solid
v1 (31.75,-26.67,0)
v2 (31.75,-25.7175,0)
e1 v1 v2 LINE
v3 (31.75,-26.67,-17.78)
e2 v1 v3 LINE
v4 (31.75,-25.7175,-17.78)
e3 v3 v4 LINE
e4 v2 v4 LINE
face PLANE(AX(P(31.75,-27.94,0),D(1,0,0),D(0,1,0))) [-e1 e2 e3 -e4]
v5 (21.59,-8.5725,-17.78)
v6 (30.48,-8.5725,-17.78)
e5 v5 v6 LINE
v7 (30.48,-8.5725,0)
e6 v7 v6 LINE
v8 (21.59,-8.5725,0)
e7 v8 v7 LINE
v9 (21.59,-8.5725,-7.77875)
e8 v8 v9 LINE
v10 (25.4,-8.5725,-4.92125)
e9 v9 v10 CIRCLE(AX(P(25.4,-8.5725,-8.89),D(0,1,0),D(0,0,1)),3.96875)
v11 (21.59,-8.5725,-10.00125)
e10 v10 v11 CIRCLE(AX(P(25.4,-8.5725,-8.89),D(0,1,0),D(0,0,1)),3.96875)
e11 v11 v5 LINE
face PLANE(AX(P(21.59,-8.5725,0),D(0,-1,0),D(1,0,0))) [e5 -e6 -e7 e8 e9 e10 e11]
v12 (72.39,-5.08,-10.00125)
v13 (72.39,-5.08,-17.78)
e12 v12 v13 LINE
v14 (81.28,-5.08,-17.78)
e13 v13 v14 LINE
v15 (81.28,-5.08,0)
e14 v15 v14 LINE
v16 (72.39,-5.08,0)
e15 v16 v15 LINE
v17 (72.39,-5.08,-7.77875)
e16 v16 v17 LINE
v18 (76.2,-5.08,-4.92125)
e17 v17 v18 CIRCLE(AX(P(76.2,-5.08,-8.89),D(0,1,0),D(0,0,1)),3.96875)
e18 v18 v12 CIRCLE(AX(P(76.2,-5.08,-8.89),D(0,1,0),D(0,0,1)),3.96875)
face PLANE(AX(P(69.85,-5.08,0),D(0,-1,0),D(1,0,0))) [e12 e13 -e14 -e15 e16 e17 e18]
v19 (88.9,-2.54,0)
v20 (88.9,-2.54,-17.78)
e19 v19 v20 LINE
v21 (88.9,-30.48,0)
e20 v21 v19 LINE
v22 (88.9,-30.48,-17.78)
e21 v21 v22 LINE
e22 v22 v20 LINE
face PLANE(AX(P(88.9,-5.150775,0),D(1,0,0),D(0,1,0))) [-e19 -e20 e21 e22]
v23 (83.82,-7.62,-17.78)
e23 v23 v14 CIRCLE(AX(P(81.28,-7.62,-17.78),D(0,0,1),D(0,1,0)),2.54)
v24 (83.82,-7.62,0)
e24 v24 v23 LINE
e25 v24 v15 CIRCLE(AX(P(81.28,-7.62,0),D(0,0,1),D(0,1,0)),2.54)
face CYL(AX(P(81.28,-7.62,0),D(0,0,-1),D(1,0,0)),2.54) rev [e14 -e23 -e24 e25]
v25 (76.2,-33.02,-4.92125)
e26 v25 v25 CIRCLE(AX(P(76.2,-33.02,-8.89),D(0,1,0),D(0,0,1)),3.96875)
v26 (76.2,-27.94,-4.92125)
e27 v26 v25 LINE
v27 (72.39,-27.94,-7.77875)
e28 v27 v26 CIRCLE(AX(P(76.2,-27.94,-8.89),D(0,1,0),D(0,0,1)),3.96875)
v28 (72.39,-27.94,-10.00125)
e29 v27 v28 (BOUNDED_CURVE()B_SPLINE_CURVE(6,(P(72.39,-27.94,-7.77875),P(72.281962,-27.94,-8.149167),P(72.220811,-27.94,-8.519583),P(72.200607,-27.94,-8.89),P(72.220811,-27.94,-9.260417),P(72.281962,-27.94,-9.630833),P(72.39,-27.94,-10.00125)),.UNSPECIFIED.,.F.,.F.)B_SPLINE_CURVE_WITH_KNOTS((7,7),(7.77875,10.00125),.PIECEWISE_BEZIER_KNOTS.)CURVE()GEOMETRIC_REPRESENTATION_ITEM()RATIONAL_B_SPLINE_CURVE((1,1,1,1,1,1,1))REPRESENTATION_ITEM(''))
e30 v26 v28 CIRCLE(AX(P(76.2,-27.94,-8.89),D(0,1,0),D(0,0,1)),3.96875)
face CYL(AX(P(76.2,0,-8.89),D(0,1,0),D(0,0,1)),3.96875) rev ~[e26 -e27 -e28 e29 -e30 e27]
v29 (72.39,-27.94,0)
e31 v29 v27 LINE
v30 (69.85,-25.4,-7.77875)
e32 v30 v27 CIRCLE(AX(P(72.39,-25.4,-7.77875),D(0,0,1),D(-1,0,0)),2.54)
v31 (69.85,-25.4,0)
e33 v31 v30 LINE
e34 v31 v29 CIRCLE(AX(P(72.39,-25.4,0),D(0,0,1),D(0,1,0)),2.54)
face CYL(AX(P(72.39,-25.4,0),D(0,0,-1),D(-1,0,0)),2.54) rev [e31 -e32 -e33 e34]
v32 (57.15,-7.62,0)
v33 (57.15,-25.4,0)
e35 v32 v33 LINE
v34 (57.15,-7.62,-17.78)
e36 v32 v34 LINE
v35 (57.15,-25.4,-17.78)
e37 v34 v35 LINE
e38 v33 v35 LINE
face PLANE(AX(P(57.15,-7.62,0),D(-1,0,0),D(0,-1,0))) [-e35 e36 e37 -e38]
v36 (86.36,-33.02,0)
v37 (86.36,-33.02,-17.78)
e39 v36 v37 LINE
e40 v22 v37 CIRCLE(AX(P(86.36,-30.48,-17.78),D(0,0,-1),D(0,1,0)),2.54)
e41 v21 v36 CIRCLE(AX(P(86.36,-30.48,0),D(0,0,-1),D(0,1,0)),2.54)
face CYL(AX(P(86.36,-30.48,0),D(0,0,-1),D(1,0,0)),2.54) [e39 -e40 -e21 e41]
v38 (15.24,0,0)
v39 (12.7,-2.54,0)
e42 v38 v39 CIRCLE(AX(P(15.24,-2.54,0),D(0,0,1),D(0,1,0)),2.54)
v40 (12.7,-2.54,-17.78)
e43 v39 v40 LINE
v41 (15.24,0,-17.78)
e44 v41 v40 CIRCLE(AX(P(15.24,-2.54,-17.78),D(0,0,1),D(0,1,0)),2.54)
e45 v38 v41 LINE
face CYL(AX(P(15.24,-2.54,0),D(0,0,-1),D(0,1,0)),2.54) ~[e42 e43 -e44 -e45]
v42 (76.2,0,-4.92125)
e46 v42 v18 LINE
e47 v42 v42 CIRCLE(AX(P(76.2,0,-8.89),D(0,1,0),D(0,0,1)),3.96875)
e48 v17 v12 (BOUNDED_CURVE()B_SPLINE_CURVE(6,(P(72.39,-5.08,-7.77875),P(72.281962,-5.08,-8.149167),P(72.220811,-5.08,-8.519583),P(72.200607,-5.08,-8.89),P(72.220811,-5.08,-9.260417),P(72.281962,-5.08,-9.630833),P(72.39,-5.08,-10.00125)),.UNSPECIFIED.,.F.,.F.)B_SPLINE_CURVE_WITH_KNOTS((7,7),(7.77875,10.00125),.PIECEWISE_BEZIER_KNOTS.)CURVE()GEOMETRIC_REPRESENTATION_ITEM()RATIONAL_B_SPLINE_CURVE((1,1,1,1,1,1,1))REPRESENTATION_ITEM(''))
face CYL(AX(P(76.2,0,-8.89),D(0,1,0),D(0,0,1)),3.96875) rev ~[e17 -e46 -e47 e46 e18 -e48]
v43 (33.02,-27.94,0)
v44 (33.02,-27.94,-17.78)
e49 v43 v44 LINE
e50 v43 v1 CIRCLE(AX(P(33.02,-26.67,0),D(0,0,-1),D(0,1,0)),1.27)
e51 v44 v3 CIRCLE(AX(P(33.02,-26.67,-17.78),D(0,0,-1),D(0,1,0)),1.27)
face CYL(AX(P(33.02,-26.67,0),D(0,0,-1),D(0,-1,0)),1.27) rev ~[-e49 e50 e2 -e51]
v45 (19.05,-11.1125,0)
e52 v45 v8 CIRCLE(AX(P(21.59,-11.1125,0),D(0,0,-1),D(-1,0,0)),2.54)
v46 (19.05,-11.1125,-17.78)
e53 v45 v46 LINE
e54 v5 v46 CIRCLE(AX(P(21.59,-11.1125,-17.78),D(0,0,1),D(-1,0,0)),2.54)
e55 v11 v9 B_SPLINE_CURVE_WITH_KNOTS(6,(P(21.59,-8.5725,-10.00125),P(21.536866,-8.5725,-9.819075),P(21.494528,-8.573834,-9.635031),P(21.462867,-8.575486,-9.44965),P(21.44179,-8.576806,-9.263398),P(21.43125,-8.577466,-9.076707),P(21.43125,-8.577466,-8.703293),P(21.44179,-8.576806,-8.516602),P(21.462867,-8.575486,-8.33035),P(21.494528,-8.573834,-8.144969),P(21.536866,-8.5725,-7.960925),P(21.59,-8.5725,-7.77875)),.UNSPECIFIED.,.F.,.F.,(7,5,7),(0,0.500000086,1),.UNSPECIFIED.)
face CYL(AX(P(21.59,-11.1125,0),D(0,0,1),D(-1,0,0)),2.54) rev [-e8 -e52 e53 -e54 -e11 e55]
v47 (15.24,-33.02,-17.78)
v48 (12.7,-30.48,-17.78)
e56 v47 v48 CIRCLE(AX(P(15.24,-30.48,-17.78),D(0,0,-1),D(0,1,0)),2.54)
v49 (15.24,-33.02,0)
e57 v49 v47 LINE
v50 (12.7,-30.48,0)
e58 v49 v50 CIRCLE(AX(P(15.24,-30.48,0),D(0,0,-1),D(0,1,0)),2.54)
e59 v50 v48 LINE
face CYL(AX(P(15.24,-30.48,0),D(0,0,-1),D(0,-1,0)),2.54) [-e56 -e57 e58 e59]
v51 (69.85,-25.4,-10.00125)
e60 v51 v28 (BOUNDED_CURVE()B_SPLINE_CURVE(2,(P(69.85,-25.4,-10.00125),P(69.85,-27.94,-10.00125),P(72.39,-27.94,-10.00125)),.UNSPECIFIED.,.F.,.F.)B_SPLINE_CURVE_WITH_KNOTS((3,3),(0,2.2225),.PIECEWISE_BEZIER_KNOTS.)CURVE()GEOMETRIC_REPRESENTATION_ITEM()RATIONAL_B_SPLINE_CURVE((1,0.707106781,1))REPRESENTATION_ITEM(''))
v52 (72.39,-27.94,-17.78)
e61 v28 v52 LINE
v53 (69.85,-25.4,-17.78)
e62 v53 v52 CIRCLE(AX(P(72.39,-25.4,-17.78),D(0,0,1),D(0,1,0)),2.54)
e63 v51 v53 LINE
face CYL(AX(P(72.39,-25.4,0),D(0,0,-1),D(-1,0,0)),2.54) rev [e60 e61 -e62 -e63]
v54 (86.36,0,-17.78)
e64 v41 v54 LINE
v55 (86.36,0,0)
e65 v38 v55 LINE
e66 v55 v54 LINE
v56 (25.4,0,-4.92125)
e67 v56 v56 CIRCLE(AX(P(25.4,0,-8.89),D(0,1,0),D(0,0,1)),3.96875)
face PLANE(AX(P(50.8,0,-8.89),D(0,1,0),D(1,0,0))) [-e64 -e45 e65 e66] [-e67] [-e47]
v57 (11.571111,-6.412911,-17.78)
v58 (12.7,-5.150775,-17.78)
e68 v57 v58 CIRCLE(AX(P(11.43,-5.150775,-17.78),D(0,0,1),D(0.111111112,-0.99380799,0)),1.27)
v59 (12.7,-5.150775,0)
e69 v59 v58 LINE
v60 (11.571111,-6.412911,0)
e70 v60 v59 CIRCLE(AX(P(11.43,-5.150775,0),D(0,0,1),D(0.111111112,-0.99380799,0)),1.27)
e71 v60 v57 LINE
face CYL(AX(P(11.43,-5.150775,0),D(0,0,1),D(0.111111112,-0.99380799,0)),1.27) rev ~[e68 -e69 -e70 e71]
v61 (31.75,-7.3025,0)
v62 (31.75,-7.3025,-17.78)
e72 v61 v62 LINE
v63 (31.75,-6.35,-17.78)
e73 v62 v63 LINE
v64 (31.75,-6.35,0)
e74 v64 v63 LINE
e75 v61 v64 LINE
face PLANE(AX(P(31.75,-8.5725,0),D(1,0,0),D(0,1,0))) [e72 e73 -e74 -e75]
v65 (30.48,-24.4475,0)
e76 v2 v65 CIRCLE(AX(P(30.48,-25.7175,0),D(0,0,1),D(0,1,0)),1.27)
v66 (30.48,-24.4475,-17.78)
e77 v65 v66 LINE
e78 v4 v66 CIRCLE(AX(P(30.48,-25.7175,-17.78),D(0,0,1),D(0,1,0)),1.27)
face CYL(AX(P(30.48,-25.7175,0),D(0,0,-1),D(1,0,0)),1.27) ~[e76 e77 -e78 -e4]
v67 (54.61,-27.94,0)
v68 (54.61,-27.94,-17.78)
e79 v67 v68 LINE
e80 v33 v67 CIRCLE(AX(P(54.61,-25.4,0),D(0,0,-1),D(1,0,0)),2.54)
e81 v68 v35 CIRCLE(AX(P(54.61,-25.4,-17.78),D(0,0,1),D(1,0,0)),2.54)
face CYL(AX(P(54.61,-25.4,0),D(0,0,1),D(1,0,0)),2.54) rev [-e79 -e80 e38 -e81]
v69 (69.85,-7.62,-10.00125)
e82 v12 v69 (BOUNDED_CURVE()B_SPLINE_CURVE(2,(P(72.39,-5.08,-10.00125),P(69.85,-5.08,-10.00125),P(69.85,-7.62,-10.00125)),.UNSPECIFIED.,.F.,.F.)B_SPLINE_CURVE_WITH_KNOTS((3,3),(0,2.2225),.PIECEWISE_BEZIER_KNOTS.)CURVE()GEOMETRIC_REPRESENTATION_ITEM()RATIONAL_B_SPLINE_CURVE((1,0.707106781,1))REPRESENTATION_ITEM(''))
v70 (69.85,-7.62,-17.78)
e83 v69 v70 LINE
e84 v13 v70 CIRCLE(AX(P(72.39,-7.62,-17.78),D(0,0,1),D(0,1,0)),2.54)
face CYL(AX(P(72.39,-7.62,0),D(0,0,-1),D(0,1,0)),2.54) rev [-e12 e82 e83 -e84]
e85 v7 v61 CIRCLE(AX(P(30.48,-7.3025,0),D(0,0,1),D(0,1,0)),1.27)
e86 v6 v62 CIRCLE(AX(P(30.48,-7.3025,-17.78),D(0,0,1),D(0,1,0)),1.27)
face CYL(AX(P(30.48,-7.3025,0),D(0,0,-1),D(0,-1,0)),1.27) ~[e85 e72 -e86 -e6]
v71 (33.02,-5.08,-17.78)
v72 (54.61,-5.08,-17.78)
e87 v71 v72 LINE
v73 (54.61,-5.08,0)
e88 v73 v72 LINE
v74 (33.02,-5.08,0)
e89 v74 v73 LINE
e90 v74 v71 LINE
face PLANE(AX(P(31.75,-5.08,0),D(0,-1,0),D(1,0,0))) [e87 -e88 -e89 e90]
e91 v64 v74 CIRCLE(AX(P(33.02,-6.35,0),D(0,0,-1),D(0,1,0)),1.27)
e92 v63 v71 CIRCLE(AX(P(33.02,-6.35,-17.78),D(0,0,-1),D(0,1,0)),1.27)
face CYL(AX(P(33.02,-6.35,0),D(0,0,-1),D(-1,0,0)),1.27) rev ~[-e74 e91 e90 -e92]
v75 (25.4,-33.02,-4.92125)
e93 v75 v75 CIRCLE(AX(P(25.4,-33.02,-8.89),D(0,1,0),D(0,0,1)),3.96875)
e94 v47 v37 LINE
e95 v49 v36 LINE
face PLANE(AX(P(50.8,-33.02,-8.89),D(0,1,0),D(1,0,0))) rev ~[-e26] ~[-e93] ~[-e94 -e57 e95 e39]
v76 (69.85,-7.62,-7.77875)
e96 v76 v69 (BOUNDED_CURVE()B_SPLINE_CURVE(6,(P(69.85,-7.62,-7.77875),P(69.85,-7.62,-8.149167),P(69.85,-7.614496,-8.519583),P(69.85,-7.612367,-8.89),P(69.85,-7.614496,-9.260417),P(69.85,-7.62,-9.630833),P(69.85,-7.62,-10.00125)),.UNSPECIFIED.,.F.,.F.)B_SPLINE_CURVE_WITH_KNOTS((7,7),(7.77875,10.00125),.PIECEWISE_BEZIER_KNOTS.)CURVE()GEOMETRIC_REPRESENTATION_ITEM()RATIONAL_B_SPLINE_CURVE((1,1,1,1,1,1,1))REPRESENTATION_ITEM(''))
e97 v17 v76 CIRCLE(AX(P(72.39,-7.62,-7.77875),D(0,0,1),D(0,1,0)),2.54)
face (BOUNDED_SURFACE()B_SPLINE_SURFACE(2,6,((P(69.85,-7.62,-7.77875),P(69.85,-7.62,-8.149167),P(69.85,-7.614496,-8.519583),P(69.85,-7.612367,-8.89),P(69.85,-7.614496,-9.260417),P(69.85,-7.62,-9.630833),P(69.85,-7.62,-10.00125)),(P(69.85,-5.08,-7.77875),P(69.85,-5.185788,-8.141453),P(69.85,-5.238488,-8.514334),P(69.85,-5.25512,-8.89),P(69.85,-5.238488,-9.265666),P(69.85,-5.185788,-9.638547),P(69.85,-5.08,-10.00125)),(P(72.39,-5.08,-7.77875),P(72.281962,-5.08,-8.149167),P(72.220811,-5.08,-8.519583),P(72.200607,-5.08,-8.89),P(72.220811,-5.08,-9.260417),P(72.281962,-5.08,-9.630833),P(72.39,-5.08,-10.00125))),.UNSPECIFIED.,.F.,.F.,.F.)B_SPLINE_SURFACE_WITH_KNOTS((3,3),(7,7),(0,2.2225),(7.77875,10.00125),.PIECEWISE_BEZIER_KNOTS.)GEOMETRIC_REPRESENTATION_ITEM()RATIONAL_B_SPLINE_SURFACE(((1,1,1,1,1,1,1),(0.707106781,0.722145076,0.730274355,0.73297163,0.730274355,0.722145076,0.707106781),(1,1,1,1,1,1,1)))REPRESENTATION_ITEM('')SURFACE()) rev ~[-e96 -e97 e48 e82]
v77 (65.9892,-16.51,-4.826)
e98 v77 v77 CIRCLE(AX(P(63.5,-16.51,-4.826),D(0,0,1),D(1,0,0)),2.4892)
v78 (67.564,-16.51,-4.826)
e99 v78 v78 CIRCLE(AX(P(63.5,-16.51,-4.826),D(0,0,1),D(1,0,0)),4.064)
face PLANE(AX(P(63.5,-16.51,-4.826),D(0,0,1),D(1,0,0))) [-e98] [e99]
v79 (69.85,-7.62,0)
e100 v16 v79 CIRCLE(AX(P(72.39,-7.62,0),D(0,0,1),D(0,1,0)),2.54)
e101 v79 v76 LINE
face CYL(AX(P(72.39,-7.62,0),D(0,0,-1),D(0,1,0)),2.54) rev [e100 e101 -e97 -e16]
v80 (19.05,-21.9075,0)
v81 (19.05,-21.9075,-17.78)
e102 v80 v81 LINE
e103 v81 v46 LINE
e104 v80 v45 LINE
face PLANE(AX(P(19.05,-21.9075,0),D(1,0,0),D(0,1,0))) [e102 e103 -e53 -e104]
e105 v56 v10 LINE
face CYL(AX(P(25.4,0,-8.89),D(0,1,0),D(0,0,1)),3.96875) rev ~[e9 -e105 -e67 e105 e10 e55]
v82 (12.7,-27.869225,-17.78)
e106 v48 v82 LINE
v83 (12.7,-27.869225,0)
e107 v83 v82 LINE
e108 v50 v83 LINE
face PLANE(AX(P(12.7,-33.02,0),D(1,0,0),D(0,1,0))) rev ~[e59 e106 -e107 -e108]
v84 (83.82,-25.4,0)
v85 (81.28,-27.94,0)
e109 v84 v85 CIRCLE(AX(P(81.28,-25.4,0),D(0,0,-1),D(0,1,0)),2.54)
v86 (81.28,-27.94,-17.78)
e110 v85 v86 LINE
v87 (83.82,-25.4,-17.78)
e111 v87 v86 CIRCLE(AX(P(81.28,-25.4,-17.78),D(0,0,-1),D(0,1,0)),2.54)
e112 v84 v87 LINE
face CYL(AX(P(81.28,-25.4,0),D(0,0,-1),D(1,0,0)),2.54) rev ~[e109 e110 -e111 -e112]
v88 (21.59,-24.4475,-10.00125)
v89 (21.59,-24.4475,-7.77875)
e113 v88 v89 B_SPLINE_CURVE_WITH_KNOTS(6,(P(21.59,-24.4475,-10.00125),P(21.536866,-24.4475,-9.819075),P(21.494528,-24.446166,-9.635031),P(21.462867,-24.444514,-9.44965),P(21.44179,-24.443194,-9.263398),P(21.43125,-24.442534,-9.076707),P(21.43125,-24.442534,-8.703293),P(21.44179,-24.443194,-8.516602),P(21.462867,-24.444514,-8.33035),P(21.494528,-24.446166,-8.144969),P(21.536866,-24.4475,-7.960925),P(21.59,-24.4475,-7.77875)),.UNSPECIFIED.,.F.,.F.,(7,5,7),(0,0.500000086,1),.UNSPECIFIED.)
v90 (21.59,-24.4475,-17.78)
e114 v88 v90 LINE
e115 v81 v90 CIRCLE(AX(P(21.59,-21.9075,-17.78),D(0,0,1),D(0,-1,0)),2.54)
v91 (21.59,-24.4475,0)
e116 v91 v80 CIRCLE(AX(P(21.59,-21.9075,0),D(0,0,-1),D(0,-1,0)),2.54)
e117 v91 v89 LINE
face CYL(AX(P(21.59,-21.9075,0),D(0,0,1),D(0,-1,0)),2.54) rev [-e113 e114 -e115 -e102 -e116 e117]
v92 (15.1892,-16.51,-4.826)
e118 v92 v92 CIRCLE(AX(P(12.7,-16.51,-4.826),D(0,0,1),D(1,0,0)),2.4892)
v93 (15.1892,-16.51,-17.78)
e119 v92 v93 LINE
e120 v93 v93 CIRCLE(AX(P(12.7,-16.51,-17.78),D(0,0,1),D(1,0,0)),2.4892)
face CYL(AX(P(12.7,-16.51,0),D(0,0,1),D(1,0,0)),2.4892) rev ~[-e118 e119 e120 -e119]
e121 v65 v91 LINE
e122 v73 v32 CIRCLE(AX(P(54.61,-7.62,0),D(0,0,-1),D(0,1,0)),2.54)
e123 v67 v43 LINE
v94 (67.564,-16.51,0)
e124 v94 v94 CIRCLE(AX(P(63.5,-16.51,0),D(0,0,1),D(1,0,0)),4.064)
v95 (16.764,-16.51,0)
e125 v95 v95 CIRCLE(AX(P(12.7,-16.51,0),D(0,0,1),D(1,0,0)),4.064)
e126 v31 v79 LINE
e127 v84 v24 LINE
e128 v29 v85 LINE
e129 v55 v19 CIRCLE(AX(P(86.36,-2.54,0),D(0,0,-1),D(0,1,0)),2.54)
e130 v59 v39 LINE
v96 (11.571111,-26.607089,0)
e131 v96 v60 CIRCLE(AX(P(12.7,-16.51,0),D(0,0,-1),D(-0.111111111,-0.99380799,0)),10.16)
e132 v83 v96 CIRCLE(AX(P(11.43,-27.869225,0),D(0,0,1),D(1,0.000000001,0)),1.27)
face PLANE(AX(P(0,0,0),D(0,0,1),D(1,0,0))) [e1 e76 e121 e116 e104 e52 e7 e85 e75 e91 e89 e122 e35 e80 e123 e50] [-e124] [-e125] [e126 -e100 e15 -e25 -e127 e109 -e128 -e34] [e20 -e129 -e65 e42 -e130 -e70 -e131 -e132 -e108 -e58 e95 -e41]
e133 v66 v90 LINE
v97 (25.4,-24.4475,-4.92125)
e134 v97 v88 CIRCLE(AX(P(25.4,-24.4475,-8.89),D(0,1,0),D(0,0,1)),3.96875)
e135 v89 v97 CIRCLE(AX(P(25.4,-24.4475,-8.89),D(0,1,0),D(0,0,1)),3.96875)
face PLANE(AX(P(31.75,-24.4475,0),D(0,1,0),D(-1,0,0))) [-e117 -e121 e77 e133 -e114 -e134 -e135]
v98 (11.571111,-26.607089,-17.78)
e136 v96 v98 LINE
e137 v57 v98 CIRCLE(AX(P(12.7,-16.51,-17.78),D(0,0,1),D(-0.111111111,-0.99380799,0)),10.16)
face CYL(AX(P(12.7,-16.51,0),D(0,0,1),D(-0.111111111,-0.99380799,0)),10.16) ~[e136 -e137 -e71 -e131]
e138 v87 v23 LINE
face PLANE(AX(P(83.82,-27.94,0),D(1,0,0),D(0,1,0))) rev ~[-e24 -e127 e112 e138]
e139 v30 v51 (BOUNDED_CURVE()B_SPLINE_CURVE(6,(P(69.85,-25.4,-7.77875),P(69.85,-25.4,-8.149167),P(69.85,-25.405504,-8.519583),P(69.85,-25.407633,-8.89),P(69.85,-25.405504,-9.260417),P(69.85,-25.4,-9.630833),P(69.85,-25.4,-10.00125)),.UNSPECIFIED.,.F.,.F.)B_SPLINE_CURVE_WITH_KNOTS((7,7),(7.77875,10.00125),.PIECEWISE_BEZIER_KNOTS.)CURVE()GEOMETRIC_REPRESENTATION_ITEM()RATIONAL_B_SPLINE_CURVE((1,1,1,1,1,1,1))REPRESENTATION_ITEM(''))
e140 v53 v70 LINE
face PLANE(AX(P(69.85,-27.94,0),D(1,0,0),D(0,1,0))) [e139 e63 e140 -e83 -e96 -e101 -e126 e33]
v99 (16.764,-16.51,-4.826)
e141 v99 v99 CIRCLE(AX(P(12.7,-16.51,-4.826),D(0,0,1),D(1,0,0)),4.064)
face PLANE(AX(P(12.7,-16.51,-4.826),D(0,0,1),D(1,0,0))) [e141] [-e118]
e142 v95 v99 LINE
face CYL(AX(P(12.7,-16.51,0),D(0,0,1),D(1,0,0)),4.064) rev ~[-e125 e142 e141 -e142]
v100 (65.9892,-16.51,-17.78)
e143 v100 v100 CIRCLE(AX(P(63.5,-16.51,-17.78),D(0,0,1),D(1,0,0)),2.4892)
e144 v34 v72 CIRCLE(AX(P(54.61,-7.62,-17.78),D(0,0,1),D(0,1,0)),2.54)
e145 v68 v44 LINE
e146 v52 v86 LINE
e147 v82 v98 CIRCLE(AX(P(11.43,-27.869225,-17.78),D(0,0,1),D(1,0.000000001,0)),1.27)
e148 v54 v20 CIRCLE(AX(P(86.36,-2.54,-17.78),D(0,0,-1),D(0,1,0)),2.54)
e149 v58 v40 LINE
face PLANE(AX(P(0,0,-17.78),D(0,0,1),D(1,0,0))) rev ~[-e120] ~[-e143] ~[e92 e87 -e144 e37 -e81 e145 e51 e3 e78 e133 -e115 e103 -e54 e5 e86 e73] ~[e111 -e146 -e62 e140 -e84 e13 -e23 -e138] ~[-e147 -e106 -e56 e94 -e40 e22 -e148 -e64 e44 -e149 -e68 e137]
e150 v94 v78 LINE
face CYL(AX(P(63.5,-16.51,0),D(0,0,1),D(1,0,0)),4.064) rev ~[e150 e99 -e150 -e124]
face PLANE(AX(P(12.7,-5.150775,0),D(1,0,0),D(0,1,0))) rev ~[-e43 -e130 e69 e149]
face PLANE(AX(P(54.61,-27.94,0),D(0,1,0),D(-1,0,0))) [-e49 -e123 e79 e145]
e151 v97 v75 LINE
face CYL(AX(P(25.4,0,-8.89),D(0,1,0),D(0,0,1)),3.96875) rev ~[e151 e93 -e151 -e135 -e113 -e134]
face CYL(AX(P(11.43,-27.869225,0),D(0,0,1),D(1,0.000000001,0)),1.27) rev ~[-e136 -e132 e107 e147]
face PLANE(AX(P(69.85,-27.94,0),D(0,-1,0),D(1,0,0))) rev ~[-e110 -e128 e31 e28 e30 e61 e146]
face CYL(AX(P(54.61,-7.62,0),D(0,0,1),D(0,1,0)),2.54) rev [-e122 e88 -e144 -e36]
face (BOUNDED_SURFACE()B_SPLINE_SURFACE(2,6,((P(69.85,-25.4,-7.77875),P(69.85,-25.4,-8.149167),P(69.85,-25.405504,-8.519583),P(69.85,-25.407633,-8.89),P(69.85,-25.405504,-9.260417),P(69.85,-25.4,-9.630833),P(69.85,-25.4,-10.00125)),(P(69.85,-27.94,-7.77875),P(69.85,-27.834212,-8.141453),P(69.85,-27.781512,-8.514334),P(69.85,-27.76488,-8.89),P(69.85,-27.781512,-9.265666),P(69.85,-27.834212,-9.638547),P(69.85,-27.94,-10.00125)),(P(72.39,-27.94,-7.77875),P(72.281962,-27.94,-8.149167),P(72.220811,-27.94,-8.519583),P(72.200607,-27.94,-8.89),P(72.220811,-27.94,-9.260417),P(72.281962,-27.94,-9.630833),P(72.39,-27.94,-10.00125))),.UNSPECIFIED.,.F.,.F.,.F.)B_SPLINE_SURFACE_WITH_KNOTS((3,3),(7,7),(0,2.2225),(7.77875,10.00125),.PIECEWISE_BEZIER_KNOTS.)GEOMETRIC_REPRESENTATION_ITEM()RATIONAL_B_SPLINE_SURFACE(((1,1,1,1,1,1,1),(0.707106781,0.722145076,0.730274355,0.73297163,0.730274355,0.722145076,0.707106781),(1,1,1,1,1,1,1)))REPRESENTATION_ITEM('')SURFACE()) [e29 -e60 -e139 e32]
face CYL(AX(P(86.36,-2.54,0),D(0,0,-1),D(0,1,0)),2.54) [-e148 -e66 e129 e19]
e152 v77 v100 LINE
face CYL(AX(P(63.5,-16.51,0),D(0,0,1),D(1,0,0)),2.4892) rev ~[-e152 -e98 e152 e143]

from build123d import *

# Parameters (mm, degrees)
SKETCH1_W           = 101.6
SKETCH1_H           = 17.78
SKETCH1_R           = 3.96875
BOSS_EXTRUDE1_DEPTH = 33.02
SKETCH2_R           = 2.4892
CUT_EXTRUDE1_DEPTH  = 17.78
SKETCH3_R           = 4.064
CUT_EXTRUDE2_DEPTH  = 4.826
CUT_EXTRUDE3_DEPTH  = 109.300548475
FILLET1_R           = 2.54
SKETCH6_W           = 13.97
SKETCH6_H           = 22.86
SKETCH6_W_2         = 10.94852006
SKETCH6_H_2         = 22.718450652
CUT_EXTRUDE4_DEPTH  = 106.921350067
FILLET2_R           = 2.54
FILLET3_R           = 1.27


with BuildPart() as part:
    # Sketch1 → Boss-Extrude1 (new body)
    with BuildSketch(Plane(origin=(0, 0, 0), x_dir=(1, 0, 0), z_dir=(0, 1, 0))):
        with Locations((50.8, 8.89)):
            Rectangle(SKETCH1_W, SKETCH1_H)
        with Locations(Location((76.2, 8.89, 0), (0, 0, 270))):
            Circle(SKETCH1_R, mode=Mode.SUBTRACT)
        with Locations(Location((25.4, 8.89, 0), (0, 0, 270))):
            Circle(SKETCH1_R, mode=Mode.SUBTRACT)
    extrude(amount=-BOSS_EXTRUDE1_DEPTH)

    # Sketch2 → Cut-Extrude1 (cut)
    with BuildSketch(Plane.XY):
        with Locations((63.5, -16.51)):
            Circle(SKETCH2_R)
        with Locations((12.7, -16.51)):
            Circle(SKETCH2_R)
    extrude(amount=-CUT_EXTRUDE1_DEPTH, mode=Mode.SUBTRACT)

    # Sketch3 → Cut-Extrude2 (cut)
    with BuildSketch(Plane.XY):
        with Locations((63.5, -16.51)):
            Circle(SKETCH3_R)
        with Locations((12.7, -16.51)):
            Circle(SKETCH3_R)
    extrude(amount=-CUT_EXTRUDE2_DEPTH, mode=Mode.SUBTRACT)

    # Sketch5 → Cut-Extrude3 (cut, through all)
    with BuildSketch(Plane.XY):
        with BuildLine():
            Line((12.7, -5.150774674), (12.7, 0))
            Line((12.7, 0), (0, 0))
            Line((0, 0), (0, -33.02))
            Line((0, -33.02), (12.7, -33.02))
            Line((12.7, -33.02), (12.7, -27.869225326))
            ThreePointArc((12.7, -27.869225326), (12.37660211, -27.022558659), (11.571111111, -26.607089178))
            ThreePointArc((11.571111111, -26.607089178), (2.54, -16.51), (11.571111111, -6.412910822))
            ThreePointArc((11.571111111, -6.412910822), (12.37660211, -5.997441341), (12.7, -5.150774674))
        make_face()
        with BuildLine():
            Line((88.9, -5.150774674), (88.9, 0))
            Line((88.9, 0), (101.6, 0))
            Line((101.6, 0), (101.6, -33.02))
            Line((101.6, -33.02), (88.9, -33.02))
            Line((88.9, -33.02), (88.9, -27.869225326))
            ThreePointArc((88.9, -27.869225326), (89.22339789, -27.022558659), (90.028888889, -26.607089178))
            ThreePointArc((90.028888889, -26.607089178), (99.06, -16.51), (90.028888889, -6.412910822))
            ThreePointArc((90.028888889, -6.412910822), (89.22339789, -5.997441341), (88.9, -5.150774674))
        make_face()
    extrude(amount=-CUT_EXTRUDE3_DEPTH, mode=Mode.SUBTRACT)

    # Fillet1
    fillet1_edges = [part.edges().sort_by_distance(p)[0] for p in [
        (12.7, -33.02, -8.89),
        (12.7, 0, -8.89),
        (88.9, 0, -8.89),
        (88.9, -33.02, -8.89),
    ]]
    fillet(fillet1_edges, radius=FILLET1_R)

    # Sketch6 → Cut-Extrude4 (cut, through all)
    with BuildSketch(Plane.XY):
        with BuildLine():
            Line((19.05, -21.9075), (19.05, -11.1125))
            ThreePointArc((19.05, -11.1125), (19.793948776, -9.316448776), (21.59, -8.5725))
            Line((21.59, -8.5725), (31.75, -8.5725))
            Line((31.75, -8.5725), (31.75, -5.08))
            Line((31.75, -5.08), (54.61, -5.08))
            ThreePointArc((54.61, -5.08), (56.406051224, -5.823948776), (57.15, -7.62))
            Line((57.15, -7.62), (57.15, -25.4))
            ThreePointArc((57.15, -25.4), (56.406051224, -27.196051224), (54.61, -27.94))
            Line((54.61, -27.94), (31.75, -27.94))
            Line((31.75, -27.94), (31.75, -24.4475))
            Line((31.75, -24.4475), (21.59, -24.4475))
            ThreePointArc((21.59, -24.4475), (19.793948776, -23.703551224), (19.05, -21.9075))
        make_face()
        with Locations((76.835, -16.51)):
            Rectangle(SKETCH6_W, SKETCH6_H)
        with Locations((94.37426003, -16.51)):
            Rectangle(SKETCH6_W_2, SKETCH6_H_2)
    extrude(amount=-CUT_EXTRUDE4_DEPTH, mode=Mode.SUBTRACT)

    # Fillet2
    fillet2_edges = [part.edges().sort_by_distance(p)[0] for p in [
        (69.85, -5.08, -8.89),
        (83.82, -27.94, -8.89),
        (83.82, -5.08, -8.89),
        (69.85, -27.94, -8.89),
    ]]
    fillet(fillet2_edges, radius=FILLET2_R)

    # Fillet3
    fillet3_edges = [part.edges().sort_by_distance(p)[0] for p in [
        (31.75, -24.4475, -8.89),
        (31.75, -8.5725, -8.89),
        (31.75, -5.08, -8.89),
        (31.75, -27.94, -8.89),
    ]]
    fillet(fillet3_edges, radius=FILLET3_R)


solid = part.part
